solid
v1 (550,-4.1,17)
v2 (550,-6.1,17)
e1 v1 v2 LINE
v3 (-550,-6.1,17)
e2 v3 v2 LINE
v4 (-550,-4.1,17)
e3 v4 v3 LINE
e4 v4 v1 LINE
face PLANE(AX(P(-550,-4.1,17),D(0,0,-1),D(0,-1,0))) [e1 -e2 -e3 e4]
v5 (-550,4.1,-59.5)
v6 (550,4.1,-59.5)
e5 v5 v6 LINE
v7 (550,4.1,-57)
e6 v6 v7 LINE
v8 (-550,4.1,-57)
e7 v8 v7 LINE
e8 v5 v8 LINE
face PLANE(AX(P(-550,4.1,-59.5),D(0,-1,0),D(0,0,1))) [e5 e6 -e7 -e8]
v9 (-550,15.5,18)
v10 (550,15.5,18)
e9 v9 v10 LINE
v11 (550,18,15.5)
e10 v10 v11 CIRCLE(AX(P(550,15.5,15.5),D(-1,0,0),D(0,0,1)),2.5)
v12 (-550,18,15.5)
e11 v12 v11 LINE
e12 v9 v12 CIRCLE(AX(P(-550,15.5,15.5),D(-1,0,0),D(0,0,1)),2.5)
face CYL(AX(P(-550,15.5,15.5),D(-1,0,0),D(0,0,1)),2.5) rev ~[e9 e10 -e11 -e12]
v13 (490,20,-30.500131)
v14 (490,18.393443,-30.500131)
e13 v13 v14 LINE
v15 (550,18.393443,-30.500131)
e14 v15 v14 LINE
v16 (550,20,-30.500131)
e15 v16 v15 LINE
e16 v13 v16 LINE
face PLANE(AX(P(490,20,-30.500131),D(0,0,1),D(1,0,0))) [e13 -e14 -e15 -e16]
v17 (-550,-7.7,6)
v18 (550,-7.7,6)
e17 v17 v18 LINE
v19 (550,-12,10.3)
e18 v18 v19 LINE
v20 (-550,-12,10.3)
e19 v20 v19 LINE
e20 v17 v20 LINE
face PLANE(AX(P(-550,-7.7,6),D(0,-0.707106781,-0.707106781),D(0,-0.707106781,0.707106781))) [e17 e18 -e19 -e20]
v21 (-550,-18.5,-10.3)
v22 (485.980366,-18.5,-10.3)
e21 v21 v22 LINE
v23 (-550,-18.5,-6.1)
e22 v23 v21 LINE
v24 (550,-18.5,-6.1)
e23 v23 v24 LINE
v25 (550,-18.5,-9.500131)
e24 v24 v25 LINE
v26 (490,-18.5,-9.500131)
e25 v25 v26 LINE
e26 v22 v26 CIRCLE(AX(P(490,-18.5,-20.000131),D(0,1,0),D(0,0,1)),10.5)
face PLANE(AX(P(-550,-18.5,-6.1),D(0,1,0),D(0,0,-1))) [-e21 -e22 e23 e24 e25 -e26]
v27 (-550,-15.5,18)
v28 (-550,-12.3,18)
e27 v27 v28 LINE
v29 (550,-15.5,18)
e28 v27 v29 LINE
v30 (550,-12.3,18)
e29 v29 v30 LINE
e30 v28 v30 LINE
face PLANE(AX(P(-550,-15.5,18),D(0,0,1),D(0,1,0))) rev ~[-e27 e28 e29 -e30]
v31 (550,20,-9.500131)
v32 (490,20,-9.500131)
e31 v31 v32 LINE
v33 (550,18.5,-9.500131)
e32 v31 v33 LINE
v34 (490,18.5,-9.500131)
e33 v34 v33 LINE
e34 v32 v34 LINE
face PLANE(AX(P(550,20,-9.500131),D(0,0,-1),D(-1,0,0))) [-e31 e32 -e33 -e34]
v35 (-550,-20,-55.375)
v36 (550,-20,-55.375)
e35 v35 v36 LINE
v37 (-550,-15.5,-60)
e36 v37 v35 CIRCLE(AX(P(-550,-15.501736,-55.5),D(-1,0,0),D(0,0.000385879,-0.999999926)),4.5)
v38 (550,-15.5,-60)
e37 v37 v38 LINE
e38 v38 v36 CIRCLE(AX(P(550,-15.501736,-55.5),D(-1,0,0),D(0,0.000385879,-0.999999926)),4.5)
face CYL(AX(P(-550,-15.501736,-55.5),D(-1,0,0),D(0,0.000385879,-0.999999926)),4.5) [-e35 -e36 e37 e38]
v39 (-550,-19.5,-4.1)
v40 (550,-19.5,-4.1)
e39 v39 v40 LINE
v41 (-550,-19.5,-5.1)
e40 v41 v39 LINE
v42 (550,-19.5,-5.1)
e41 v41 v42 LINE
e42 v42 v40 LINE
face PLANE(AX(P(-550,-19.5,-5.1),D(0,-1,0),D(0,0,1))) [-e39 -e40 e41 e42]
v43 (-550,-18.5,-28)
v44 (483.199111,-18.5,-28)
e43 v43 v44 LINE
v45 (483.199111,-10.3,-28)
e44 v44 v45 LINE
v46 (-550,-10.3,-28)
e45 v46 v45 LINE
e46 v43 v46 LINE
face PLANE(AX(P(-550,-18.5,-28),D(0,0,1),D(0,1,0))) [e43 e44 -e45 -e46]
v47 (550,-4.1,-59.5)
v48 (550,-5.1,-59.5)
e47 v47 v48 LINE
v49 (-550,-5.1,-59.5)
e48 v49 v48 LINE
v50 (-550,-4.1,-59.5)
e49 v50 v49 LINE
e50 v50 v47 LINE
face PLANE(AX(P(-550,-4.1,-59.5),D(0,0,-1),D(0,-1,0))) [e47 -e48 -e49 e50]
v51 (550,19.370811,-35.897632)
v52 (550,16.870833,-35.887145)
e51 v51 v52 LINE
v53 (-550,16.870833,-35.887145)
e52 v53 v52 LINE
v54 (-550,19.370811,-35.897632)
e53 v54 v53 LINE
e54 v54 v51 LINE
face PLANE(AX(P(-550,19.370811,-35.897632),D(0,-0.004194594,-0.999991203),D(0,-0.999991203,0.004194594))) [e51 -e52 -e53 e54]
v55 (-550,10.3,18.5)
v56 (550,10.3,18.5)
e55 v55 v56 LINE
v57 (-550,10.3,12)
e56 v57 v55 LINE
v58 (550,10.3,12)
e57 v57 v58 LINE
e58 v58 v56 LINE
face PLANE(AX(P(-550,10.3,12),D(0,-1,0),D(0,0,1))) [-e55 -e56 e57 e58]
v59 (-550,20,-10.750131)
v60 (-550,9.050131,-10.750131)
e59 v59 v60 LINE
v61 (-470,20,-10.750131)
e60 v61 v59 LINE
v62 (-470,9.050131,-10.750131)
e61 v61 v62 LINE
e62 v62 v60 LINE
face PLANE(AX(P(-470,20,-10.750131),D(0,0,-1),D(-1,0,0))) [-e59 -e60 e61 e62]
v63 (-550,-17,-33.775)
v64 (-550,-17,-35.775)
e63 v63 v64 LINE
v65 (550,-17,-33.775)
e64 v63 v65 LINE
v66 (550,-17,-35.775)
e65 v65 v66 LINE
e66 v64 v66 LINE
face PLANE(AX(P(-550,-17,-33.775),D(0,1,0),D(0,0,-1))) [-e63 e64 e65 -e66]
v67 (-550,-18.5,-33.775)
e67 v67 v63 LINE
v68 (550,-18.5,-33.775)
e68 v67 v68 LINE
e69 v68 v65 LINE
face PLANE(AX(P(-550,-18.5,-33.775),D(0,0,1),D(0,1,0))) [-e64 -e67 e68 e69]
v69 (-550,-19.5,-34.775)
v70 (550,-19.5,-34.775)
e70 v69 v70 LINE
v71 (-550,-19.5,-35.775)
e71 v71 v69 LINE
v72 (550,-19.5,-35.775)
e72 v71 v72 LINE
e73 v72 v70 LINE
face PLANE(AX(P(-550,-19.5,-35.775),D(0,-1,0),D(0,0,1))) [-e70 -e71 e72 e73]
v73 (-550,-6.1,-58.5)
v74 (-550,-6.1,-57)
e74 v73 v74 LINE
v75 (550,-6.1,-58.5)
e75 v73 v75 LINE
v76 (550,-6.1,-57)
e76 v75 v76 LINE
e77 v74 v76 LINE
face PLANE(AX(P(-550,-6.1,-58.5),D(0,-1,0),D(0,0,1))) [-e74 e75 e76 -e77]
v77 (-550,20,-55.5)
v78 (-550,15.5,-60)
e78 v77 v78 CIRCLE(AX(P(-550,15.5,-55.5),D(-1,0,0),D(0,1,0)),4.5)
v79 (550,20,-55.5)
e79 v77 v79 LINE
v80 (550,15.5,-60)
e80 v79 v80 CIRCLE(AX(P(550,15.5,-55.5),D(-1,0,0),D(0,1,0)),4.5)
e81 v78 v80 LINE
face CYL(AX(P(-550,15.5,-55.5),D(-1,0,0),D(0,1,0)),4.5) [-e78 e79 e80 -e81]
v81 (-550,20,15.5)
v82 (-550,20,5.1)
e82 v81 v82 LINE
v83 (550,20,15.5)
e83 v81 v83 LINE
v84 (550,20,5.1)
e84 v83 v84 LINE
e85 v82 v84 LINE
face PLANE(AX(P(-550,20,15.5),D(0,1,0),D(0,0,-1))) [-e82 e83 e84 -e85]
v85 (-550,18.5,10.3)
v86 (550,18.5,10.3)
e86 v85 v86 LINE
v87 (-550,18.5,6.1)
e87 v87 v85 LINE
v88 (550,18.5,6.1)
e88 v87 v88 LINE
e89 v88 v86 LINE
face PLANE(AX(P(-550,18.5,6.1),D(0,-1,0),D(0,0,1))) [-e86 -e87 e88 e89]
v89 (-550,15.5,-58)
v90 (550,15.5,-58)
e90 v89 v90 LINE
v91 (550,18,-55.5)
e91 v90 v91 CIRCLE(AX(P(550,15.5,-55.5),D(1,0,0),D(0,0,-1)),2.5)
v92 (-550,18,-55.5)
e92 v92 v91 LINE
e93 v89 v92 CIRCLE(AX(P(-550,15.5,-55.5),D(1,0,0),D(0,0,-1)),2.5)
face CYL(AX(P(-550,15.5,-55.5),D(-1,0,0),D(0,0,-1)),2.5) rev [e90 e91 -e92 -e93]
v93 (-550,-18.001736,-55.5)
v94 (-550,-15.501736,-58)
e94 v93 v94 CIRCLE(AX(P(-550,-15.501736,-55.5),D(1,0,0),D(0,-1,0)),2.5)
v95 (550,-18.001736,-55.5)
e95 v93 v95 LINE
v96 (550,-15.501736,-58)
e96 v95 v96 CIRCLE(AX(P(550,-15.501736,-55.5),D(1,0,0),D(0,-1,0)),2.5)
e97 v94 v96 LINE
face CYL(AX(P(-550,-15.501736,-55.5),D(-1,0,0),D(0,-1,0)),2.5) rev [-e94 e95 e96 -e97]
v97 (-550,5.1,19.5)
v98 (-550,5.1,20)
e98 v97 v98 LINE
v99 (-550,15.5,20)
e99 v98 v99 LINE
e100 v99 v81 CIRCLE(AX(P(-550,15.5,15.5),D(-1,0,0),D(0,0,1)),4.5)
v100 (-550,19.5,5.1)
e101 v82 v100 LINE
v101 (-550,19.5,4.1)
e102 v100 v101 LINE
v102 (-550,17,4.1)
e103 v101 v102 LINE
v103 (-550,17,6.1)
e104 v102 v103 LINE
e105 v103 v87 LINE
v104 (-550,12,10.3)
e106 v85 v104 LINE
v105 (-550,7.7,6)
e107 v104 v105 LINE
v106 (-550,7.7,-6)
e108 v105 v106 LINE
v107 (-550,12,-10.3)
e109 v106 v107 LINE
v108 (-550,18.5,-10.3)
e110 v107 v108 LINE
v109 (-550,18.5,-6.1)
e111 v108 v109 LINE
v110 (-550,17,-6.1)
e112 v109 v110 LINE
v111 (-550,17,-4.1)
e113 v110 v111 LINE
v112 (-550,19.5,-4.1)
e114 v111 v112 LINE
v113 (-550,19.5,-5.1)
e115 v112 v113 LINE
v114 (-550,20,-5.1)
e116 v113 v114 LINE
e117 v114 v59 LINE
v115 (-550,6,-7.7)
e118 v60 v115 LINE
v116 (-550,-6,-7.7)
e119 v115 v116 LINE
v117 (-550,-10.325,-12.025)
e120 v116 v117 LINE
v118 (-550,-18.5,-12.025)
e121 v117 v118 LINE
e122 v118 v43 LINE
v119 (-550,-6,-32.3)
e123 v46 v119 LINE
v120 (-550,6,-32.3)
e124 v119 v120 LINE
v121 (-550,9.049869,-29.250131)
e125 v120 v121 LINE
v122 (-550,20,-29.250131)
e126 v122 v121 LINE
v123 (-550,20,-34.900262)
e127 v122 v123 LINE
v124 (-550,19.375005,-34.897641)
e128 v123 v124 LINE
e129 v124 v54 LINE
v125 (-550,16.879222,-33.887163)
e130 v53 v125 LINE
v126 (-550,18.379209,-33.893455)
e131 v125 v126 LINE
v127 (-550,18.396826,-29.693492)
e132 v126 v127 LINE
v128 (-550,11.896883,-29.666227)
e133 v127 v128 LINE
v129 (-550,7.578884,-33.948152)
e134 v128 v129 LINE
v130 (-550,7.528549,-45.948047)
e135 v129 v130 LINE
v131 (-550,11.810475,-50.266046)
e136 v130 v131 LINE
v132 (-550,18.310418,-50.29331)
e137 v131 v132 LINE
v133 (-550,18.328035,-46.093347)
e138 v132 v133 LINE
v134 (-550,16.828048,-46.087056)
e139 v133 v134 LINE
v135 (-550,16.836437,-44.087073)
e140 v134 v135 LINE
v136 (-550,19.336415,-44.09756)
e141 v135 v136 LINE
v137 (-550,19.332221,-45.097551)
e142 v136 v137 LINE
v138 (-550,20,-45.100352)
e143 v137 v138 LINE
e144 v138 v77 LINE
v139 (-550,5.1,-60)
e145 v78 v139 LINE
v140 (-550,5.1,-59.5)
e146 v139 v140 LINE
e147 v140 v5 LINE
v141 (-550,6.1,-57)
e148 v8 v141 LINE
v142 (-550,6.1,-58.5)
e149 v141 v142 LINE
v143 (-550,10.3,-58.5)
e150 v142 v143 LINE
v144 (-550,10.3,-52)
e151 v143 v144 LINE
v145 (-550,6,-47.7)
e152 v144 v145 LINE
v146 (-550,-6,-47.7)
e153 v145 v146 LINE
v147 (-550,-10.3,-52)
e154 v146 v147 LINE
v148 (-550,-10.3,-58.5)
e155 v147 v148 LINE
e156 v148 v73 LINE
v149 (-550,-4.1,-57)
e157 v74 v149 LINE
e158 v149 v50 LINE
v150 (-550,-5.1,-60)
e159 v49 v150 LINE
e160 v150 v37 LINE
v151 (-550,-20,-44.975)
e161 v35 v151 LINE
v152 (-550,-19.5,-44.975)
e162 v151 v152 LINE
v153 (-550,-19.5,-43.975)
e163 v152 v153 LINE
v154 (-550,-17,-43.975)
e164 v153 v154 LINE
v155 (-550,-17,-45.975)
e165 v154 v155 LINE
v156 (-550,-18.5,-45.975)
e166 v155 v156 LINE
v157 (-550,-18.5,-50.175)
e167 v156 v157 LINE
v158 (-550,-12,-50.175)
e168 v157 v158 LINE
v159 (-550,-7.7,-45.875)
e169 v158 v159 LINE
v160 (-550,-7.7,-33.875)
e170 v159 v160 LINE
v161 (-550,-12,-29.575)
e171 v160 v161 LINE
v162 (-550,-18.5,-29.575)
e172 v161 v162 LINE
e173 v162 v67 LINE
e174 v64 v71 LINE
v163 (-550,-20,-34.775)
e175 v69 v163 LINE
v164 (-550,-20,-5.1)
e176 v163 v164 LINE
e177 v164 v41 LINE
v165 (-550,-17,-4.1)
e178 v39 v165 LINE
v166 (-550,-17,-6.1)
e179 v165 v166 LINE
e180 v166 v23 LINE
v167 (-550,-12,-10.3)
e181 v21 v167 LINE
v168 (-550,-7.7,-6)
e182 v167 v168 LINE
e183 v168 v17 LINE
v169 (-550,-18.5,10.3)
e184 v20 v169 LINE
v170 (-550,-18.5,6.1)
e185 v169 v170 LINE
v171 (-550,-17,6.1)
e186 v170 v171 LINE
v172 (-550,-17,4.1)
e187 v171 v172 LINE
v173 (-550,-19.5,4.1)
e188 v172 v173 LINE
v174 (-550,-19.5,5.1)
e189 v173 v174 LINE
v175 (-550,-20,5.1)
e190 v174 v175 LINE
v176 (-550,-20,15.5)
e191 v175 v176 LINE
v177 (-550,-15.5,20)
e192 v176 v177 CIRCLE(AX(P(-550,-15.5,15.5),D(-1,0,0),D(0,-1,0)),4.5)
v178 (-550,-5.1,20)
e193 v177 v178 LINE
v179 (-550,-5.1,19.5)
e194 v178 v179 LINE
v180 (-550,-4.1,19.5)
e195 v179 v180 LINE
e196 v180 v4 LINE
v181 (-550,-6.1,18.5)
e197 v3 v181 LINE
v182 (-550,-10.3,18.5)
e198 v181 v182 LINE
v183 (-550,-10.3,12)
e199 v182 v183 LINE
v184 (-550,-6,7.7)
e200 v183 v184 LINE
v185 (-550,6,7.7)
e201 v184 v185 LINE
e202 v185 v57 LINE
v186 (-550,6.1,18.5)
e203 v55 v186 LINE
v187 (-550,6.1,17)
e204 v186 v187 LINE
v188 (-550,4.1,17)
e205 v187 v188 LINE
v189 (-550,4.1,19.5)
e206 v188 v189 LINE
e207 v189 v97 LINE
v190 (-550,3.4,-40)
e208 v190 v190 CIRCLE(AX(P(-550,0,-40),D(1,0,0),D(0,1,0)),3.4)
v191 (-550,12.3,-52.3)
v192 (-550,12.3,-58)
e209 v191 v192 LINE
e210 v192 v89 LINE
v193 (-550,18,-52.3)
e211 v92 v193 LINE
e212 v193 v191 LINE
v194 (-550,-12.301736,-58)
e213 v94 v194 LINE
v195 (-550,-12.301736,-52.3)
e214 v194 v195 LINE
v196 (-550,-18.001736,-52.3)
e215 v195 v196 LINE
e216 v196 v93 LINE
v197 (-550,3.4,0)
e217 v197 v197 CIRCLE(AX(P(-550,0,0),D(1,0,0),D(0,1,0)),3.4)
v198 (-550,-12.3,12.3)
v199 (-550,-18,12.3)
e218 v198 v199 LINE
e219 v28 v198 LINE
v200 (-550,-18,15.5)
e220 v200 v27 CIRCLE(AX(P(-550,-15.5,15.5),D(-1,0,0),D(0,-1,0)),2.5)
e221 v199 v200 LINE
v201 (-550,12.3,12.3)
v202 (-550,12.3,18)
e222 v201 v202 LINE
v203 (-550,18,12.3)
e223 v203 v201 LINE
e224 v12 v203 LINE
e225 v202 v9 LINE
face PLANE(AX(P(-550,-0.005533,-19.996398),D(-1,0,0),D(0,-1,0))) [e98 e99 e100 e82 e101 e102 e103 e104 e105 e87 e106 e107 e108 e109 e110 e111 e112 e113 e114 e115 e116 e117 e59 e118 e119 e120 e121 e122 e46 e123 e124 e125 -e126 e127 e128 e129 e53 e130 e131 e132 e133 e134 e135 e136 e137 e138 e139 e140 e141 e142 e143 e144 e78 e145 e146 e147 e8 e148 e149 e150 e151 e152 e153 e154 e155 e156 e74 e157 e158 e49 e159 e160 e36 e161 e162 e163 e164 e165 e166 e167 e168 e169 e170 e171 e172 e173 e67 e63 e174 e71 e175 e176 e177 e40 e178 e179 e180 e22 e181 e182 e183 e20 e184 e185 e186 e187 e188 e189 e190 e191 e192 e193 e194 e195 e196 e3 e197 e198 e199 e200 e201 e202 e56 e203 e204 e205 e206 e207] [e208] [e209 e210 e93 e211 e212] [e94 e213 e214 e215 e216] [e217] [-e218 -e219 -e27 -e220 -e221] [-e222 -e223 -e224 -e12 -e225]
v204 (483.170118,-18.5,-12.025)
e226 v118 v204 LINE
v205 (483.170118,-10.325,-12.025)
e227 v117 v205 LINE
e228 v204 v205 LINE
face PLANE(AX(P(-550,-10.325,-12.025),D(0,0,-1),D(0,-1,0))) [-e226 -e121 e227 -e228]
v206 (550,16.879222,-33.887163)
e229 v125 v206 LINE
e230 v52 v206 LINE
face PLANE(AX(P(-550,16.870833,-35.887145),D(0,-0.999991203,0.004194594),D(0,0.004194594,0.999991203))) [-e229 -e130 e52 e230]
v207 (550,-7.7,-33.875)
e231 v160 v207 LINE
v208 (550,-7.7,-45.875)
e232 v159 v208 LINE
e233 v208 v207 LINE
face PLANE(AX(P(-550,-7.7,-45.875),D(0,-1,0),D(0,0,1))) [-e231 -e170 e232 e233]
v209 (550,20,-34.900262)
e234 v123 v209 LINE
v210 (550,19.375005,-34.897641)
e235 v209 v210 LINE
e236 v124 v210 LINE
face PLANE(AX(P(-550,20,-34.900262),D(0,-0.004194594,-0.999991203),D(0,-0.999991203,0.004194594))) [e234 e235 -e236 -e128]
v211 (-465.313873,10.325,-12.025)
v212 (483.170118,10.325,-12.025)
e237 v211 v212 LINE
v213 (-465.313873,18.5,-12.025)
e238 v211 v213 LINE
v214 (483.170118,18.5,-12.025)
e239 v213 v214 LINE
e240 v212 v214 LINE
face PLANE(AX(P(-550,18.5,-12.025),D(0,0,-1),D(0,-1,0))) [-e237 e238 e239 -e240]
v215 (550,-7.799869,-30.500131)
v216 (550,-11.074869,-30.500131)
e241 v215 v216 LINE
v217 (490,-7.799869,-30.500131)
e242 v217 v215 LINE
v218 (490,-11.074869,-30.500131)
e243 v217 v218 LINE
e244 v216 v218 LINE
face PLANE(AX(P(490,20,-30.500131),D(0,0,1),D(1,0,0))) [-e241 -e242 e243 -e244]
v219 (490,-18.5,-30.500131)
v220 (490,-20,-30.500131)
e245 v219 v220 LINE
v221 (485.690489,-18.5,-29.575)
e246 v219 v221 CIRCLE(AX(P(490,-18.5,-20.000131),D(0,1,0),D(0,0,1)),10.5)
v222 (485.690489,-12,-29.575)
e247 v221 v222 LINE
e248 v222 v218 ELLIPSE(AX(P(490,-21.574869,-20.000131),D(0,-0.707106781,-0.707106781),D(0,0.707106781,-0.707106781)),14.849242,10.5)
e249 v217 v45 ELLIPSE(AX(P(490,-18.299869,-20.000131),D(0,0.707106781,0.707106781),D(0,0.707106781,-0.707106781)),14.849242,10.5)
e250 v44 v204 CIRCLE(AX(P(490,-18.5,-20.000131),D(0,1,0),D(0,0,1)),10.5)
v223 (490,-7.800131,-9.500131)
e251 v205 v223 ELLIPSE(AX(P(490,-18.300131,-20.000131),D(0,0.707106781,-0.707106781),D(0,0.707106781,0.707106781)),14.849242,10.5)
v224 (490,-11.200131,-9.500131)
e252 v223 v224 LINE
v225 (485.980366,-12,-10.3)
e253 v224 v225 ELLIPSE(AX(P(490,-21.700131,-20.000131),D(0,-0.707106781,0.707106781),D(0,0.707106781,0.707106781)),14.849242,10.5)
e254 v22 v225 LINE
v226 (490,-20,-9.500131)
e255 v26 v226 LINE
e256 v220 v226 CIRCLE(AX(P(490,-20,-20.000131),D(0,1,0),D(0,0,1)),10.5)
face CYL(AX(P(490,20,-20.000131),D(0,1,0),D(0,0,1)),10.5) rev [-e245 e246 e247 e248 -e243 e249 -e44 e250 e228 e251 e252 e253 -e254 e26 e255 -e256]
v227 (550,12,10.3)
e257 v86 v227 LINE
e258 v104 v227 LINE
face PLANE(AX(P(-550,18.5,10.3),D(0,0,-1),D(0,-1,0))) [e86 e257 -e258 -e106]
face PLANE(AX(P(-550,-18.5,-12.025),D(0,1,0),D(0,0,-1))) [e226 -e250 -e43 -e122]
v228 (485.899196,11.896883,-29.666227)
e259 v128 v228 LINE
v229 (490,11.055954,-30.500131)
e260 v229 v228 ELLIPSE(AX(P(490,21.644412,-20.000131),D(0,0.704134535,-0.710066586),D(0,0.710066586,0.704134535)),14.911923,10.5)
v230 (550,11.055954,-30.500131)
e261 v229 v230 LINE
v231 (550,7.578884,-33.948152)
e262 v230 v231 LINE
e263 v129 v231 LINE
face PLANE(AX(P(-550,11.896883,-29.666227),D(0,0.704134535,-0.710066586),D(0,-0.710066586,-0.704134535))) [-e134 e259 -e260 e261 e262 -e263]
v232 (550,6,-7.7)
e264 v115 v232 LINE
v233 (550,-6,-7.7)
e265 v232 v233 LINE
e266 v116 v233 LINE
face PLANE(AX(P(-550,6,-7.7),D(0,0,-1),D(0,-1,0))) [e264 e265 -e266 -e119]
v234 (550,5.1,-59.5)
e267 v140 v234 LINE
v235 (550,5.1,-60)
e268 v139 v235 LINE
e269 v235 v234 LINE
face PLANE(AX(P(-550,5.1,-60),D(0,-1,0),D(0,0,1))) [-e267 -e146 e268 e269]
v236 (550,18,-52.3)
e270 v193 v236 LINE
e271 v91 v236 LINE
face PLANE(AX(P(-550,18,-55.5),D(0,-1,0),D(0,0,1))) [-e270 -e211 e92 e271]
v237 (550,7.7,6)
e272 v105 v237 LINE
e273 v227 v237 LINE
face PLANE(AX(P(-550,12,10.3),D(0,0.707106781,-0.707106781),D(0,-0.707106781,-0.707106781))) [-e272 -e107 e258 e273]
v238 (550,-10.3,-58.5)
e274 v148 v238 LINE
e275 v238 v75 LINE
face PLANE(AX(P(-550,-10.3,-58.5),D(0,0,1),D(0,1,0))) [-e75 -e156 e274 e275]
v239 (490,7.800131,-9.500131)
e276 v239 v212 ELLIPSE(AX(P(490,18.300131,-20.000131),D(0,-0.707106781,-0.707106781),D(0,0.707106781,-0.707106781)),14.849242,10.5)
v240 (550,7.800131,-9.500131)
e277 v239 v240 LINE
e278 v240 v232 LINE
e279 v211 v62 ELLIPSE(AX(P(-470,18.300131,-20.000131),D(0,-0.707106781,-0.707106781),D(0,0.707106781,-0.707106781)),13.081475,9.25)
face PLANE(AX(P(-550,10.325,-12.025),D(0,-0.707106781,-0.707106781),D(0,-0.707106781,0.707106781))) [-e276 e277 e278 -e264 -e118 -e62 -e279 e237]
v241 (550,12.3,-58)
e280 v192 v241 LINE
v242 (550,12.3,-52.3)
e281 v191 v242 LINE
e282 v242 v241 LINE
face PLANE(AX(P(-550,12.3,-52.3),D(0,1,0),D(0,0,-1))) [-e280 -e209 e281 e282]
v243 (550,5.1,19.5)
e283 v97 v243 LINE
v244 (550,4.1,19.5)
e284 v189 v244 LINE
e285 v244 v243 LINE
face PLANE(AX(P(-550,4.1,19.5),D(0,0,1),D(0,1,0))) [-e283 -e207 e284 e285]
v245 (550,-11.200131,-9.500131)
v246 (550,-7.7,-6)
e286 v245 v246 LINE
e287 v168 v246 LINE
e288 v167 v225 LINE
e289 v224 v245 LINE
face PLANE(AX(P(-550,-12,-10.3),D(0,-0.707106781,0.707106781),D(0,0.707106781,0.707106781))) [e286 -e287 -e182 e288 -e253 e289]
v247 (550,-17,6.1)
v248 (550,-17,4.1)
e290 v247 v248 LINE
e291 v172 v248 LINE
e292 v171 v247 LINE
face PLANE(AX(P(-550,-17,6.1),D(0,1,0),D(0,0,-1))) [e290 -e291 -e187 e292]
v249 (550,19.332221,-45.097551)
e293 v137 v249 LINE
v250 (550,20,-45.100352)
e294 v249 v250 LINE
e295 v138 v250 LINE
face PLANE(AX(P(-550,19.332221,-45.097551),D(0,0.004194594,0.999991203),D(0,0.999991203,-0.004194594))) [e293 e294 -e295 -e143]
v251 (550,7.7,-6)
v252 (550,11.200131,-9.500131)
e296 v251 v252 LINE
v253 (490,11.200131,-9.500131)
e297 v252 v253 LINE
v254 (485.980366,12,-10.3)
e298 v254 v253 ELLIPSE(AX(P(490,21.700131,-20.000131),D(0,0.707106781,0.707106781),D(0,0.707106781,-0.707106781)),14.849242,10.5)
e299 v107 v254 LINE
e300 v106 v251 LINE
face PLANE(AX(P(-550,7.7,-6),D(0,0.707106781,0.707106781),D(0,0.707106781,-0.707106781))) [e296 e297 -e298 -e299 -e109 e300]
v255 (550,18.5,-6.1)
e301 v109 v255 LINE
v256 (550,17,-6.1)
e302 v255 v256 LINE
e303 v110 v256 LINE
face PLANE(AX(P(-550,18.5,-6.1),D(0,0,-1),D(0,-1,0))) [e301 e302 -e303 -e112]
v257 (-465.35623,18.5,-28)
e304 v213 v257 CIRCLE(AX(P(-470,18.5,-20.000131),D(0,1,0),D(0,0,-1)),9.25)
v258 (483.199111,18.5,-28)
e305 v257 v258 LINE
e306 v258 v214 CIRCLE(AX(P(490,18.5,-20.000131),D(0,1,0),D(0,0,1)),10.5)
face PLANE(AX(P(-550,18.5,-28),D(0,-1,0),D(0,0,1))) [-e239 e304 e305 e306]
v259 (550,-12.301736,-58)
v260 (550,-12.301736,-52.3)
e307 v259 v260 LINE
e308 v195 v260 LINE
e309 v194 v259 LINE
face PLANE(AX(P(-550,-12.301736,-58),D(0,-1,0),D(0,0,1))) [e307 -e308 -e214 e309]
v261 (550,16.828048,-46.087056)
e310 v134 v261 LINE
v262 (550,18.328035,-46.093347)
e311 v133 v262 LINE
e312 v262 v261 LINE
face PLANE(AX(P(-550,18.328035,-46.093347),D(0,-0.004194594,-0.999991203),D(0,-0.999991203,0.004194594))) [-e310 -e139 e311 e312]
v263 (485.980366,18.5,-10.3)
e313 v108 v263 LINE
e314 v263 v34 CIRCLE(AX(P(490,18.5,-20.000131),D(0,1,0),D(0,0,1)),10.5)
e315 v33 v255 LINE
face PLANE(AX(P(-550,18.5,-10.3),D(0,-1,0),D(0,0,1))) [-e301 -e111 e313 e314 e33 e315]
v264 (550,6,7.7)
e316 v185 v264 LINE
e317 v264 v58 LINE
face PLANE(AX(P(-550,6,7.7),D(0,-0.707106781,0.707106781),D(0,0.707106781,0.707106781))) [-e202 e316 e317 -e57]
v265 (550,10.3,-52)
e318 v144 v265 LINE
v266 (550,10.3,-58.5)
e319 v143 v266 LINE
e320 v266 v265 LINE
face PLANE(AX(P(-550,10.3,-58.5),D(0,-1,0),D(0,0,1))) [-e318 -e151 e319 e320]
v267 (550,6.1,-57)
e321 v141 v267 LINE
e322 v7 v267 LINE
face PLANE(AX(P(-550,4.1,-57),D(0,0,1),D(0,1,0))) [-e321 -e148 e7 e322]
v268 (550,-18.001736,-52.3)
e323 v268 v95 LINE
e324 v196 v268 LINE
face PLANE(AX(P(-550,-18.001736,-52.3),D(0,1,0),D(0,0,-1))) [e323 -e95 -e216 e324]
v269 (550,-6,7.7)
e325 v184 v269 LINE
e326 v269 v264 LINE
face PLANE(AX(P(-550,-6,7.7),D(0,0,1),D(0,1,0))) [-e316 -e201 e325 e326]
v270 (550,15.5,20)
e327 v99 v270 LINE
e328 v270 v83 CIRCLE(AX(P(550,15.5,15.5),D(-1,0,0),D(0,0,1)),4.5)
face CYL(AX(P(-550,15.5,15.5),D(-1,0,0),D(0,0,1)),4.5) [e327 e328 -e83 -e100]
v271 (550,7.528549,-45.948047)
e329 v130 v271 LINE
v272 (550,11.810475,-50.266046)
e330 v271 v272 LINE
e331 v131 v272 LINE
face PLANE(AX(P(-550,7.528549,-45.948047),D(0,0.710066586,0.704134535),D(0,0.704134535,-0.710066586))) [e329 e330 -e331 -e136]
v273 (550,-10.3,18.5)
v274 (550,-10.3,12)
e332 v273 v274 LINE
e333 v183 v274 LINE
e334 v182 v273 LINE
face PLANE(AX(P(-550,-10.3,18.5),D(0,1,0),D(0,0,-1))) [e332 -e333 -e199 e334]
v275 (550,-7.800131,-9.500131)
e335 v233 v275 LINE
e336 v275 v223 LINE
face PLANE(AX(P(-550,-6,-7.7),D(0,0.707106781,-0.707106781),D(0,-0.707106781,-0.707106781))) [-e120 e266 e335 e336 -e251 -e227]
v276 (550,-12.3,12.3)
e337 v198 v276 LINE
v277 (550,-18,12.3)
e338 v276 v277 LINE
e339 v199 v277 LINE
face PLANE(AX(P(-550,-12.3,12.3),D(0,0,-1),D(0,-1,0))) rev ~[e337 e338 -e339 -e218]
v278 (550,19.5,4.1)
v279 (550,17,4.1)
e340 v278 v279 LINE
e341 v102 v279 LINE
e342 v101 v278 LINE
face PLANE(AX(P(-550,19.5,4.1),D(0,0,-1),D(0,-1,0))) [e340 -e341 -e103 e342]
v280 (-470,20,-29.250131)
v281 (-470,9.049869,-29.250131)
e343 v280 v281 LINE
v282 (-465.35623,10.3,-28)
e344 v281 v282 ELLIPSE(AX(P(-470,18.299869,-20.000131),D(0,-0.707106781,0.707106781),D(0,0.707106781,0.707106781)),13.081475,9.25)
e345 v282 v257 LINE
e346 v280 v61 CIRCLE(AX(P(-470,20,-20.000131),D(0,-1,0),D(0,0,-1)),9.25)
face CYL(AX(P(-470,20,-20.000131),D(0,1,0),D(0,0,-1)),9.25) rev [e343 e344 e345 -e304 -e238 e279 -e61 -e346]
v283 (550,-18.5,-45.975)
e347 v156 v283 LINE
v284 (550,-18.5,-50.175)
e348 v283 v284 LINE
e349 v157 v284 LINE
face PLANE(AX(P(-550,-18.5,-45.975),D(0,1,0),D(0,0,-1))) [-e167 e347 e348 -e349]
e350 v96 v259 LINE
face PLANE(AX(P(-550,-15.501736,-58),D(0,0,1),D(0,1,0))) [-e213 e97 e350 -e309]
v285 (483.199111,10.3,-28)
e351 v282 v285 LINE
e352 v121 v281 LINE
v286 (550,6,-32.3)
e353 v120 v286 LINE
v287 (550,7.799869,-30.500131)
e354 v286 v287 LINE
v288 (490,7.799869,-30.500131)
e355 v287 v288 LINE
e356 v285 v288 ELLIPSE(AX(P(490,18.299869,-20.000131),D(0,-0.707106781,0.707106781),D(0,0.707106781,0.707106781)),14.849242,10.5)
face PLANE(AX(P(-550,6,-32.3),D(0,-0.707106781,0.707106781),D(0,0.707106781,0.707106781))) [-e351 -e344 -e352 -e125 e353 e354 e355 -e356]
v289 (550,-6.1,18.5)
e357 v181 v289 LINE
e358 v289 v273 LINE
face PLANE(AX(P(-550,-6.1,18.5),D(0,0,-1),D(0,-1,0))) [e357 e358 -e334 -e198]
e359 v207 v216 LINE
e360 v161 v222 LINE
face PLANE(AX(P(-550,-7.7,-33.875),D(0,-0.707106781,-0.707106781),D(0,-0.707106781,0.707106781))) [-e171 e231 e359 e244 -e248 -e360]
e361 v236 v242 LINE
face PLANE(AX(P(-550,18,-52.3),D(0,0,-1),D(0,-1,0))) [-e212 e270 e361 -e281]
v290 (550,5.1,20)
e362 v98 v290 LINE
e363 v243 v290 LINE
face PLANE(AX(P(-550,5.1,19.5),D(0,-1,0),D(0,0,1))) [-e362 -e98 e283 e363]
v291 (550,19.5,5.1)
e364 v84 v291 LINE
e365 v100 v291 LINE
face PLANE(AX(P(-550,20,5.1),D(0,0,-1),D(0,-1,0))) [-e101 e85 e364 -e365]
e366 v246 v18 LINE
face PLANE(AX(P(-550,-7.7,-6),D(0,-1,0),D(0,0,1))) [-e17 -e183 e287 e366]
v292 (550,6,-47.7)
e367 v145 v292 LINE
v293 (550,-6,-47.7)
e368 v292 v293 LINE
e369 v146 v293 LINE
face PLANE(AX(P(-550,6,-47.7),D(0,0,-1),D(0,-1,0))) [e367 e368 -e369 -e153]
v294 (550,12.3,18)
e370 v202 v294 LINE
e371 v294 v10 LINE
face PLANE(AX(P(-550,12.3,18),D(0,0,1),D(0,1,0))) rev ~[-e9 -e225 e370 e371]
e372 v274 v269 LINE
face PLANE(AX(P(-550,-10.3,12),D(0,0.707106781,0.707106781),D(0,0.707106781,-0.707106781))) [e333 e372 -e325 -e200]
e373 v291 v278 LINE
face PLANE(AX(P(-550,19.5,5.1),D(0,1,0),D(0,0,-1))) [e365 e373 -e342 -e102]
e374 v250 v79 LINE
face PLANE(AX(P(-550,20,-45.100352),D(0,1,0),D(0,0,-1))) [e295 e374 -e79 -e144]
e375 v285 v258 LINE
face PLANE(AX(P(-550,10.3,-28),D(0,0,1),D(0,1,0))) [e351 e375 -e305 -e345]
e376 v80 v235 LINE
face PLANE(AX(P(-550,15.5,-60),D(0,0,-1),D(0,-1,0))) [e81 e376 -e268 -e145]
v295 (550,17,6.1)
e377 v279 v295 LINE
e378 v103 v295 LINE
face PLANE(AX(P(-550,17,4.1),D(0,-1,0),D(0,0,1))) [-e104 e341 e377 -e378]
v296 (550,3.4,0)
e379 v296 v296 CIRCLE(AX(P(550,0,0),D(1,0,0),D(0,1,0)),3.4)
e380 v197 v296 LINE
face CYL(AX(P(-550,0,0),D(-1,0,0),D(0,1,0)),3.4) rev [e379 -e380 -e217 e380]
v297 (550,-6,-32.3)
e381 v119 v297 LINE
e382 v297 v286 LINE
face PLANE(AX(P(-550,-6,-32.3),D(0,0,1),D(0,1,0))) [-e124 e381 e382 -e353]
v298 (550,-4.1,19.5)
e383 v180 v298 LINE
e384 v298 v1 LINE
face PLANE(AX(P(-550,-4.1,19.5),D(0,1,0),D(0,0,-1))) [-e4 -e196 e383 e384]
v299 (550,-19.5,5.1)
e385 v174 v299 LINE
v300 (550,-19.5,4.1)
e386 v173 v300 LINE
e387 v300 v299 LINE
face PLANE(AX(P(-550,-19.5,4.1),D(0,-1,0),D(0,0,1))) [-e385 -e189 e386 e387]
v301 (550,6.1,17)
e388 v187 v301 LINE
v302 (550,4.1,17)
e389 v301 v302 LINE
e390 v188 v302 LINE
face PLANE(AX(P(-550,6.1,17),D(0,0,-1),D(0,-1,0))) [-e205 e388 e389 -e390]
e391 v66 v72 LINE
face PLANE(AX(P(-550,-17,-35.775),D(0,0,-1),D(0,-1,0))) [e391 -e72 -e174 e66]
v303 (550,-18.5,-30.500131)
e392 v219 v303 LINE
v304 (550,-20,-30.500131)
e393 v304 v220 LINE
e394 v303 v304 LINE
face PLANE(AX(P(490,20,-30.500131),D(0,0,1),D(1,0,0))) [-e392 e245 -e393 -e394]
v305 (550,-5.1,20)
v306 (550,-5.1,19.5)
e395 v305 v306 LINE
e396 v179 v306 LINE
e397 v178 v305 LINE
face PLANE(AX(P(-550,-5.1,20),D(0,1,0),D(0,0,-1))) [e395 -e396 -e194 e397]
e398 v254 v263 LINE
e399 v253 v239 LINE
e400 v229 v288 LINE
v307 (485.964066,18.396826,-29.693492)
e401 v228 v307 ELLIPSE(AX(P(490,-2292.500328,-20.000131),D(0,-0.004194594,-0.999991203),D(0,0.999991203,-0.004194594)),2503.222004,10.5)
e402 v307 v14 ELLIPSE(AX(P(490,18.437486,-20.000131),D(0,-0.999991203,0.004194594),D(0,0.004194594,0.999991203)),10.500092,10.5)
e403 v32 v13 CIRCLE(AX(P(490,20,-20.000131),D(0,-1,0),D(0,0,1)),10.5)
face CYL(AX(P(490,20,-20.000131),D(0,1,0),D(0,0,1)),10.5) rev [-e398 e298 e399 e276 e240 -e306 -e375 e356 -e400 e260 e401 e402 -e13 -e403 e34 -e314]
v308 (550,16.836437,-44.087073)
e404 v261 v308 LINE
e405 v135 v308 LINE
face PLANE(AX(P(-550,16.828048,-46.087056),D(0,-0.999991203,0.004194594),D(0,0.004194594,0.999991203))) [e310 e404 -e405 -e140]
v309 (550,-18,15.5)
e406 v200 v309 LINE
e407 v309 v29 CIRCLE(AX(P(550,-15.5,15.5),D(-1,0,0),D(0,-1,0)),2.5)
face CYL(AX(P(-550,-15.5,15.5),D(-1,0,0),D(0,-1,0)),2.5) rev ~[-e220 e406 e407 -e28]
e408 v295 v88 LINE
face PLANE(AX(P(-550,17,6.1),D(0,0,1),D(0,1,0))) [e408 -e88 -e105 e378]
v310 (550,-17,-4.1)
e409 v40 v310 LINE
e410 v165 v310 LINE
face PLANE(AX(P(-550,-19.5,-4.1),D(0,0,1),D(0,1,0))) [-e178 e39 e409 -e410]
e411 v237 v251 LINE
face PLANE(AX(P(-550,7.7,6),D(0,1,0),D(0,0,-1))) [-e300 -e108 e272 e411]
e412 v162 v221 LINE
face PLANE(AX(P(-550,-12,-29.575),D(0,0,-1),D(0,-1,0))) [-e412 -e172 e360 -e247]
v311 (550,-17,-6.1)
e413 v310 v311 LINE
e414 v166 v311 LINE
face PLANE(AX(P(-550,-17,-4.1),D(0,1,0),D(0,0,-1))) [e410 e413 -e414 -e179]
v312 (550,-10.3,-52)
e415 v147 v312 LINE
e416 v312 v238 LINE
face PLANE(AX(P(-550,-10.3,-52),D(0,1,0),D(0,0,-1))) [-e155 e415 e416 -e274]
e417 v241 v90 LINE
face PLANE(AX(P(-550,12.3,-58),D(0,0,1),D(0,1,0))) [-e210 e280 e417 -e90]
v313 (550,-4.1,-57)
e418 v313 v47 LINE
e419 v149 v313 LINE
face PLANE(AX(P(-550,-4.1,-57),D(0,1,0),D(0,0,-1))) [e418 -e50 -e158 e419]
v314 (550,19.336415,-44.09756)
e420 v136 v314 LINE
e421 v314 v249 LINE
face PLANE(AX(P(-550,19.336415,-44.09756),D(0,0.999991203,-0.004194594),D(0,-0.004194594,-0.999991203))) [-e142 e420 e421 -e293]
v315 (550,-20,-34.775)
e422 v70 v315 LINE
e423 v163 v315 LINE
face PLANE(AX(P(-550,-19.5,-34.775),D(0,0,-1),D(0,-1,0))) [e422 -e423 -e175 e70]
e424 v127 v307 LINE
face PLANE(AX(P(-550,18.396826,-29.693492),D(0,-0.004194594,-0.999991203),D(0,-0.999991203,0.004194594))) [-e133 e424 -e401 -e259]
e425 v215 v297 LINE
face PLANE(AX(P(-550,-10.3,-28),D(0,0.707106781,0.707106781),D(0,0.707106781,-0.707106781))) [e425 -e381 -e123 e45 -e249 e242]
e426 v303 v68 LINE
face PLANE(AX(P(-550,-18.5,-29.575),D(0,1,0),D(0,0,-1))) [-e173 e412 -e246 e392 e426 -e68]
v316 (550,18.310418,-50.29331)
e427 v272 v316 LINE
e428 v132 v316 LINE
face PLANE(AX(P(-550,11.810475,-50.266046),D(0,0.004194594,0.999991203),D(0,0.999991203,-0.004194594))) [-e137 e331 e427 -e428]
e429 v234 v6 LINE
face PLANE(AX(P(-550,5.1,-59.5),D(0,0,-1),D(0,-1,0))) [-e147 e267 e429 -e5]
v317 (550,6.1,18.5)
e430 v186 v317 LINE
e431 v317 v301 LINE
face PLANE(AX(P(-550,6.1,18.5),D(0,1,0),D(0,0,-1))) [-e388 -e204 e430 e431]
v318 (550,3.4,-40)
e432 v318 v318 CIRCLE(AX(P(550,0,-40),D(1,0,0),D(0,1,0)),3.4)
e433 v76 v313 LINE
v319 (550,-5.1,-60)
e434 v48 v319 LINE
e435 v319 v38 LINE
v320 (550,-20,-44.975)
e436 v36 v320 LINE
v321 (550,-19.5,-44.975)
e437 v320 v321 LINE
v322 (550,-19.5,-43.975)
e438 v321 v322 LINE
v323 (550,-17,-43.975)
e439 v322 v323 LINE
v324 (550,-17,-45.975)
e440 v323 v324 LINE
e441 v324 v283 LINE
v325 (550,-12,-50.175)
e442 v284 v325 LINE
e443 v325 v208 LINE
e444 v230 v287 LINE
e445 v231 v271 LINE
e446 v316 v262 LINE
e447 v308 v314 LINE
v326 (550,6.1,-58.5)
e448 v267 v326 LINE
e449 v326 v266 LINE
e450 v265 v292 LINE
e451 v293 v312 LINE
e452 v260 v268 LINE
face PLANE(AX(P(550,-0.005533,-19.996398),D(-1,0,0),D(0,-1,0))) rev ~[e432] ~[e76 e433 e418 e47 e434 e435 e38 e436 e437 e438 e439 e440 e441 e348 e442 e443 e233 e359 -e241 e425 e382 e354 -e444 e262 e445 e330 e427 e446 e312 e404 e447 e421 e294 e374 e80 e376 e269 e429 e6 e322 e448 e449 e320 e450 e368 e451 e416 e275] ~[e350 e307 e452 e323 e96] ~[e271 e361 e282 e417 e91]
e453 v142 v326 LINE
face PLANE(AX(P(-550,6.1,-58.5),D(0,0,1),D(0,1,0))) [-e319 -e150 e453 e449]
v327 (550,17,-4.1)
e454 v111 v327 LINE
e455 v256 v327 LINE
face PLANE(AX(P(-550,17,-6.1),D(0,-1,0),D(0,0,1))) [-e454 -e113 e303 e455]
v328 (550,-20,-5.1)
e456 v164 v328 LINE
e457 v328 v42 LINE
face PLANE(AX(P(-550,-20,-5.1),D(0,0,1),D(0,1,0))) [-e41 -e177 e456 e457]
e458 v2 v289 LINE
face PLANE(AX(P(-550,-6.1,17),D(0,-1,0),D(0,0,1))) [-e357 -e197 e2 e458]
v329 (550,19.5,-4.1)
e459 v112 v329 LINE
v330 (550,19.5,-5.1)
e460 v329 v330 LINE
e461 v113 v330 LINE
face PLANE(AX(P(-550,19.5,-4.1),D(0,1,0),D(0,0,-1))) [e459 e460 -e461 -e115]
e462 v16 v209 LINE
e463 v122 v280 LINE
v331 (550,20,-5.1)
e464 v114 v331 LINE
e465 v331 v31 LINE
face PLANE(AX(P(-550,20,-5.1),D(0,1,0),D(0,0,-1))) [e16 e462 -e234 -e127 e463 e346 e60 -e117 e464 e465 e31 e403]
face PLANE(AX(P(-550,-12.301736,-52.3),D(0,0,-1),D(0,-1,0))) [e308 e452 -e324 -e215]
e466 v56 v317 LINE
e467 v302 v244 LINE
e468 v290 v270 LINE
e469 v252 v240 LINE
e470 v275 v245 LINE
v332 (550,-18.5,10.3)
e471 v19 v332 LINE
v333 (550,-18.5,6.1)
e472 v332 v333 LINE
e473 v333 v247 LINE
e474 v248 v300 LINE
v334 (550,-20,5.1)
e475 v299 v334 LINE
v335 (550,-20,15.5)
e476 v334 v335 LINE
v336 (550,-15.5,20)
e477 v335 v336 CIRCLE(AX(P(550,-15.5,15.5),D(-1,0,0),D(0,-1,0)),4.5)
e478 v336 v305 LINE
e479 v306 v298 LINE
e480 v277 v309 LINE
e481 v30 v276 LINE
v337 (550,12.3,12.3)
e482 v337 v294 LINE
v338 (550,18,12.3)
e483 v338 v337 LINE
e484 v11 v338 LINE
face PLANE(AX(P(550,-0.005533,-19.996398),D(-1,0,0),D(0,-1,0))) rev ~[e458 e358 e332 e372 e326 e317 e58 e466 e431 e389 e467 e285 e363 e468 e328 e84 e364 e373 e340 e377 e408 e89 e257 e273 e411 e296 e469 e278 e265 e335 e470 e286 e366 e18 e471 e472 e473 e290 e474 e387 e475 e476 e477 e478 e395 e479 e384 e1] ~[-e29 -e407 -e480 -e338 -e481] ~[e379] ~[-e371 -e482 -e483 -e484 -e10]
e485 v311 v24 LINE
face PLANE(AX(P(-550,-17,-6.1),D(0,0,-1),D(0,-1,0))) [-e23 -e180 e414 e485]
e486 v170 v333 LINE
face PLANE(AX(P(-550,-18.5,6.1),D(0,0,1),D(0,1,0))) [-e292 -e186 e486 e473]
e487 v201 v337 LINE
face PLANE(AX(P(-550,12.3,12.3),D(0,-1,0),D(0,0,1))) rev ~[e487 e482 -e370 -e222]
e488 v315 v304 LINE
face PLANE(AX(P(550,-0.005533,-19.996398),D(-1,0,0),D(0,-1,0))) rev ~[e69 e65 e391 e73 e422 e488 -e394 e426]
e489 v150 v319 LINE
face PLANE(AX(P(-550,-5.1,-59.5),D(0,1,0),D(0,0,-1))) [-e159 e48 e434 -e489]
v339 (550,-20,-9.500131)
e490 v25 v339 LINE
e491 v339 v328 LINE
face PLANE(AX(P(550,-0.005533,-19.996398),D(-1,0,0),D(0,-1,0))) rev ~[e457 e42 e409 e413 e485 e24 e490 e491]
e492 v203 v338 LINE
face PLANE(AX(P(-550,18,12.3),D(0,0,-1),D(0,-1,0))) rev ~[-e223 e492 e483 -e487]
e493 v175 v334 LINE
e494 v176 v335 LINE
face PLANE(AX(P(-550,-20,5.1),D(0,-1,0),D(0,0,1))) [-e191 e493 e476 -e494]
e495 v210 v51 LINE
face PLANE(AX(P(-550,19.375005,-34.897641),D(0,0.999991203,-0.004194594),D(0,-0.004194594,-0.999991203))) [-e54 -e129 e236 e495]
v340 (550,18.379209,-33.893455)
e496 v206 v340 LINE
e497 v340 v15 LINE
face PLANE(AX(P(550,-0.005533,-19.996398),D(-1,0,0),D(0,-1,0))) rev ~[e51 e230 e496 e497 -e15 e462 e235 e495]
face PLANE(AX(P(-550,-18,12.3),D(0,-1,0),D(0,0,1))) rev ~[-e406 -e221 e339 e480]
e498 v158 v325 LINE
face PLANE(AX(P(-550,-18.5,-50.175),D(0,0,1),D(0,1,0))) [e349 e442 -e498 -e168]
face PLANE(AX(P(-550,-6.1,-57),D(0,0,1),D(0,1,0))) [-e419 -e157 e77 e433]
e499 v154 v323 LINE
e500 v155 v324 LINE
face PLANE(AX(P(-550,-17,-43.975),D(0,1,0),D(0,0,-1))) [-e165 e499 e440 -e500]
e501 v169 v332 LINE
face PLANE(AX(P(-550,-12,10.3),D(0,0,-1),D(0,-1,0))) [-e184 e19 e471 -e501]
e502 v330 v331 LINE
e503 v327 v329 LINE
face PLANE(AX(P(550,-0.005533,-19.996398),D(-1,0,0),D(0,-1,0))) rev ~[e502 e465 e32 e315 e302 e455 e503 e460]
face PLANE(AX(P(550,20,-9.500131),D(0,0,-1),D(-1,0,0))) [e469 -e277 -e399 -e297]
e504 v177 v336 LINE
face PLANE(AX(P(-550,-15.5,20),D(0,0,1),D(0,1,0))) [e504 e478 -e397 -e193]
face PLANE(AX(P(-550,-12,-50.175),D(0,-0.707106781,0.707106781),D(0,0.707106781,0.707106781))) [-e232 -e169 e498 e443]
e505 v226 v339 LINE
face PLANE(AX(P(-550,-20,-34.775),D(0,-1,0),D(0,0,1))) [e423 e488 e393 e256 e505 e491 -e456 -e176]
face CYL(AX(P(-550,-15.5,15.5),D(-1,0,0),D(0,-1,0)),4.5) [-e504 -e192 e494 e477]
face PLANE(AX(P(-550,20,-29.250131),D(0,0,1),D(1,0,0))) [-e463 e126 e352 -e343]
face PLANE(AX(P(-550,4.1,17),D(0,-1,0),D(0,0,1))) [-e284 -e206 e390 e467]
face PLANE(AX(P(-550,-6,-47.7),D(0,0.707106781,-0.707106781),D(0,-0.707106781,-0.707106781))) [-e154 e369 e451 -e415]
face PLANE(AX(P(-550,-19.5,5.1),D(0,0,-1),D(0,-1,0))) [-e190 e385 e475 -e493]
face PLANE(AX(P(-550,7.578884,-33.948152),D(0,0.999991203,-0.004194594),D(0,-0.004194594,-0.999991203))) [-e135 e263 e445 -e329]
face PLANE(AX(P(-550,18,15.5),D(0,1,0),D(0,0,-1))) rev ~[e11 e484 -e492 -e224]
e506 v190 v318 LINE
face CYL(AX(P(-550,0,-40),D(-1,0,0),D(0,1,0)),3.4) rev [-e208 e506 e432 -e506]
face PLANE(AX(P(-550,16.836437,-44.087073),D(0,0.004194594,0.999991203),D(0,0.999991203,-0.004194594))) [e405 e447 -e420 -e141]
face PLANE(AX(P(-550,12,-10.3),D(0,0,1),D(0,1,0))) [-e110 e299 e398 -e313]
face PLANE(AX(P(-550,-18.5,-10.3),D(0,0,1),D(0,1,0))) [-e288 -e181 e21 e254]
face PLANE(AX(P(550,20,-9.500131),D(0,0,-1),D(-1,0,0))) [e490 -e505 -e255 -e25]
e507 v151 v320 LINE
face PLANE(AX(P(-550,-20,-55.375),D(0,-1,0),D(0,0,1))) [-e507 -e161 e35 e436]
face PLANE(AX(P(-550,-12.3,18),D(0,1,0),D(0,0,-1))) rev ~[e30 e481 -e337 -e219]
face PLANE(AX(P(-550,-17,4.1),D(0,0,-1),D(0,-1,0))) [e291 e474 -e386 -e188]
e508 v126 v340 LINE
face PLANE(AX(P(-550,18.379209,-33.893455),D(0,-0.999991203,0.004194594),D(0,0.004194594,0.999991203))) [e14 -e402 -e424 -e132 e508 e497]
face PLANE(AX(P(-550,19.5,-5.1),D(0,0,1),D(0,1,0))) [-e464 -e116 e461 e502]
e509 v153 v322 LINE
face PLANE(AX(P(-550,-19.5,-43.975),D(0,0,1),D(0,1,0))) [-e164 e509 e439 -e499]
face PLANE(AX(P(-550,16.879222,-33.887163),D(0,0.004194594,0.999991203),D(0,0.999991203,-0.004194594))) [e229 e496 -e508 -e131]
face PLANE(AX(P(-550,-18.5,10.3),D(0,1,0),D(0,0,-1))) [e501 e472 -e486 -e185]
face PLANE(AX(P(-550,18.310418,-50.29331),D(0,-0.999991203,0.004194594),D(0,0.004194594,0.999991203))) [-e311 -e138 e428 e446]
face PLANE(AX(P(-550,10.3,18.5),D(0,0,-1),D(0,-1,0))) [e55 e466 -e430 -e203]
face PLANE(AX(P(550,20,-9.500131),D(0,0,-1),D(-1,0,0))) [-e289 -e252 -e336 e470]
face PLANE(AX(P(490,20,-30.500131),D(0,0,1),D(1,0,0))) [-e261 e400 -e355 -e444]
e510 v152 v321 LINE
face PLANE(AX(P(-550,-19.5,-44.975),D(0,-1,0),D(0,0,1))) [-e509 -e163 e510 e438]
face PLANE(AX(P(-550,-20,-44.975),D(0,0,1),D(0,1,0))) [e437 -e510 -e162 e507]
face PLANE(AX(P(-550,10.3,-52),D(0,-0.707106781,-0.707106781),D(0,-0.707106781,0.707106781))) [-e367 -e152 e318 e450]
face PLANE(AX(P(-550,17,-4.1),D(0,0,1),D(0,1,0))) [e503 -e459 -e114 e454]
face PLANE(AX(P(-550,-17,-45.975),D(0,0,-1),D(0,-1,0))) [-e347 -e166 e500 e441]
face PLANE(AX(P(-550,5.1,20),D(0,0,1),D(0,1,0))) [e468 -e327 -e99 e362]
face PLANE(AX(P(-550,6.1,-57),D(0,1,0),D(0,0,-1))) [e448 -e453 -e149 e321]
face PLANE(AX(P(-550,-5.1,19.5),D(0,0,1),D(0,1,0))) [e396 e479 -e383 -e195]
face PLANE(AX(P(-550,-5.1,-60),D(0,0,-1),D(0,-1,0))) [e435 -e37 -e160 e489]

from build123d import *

# Parameters (mm, degrees)
SKETCH1_R                 = 3.4
F_40_X_80W_X_R4_5_1_DEPTH = 1100
CUT_EXTRUDE_1_REACH       = 556.707
CUT_EXTRUDE_2_DEPTH       = 555.707255189


with BuildPart() as part:
    # Sketch1 → 工业铝型材 40 X 80W X R4.5(1) (new body)
    with BuildSketch(Plane.YZ.offset(-550)):
        with BuildLine():
            Line((-5.1, 20), (-5.1, 19.5))
            Line((-5.1, 19.5), (-4.1, 19.5))
            Line((-4.1, 19.5), (-4.1, 17))
            Line((-4.1, 17), (-6.1, 17))
            Line((-6.1, 17), (-6.1, 18.5))
            Line((-6.1, 18.5), (-10.3, 18.5))
            Line((-10.3, 18.5), (-10.3, 12))
            Line((-10.3, 12), (-6, 7.7))
            Line((-6, 7.7), (6, 7.7))
            Line((6, 7.7), (10.3, 12))
            Line((10.3, 12), (10.3, 18.5))
            Line((10.3, 18.5), (6.1, 18.5))
            Line((6.1, 18.5), (6.1, 17))
            Line((6.1, 17), (4.1, 17))
            Line((4.1, 17), (4.1, 19.5))
            Line((4.1, 19.5), (5.1, 19.5))
            Line((5.1, 19.5), (5.1, 20))
            Line((5.1, 20), (15.5, 20))
            ThreePointArc((15.5, 20), (18.681980515, 18.681980515), (20, 15.5))
            Line((20, 15.5), (20, 5.1))
            Line((20, 5.1), (19.5, 5.1))
            Line((19.5, 5.1), (19.5, 4.1))
            Line((19.5, 4.1), (17, 4.1))
            Line((17, 4.1), (17, 6.1))
            Line((17, 6.1), (18.5, 6.1))
            Line((18.5, 6.1), (18.5, 10.3))
            Line((18.5, 10.3), (12, 10.3))
            Line((12, 10.3), (7.7, 6))
            Line((7.7, 6), (7.7, -6))
            Line((7.7, -6), (12, -10.3))
            Line((12, -10.3), (18.5, -10.3))
            Line((18.5, -10.3), (18.5, -6.1))
            Line((18.5, -6.1), (17, -6.1))
            Line((17, -6.1), (17, -4.1))
            Line((17, -4.1), (19.5, -4.1))
            Line((19.5, -4.1), (19.5, -5.1))
            Line((19.5, -5.1), (20, -5.1))
            Line((20, -5.1), (20, -34.900262163))
            Line((20, -34.900262163), (19.375005498, -34.897640542))
            Line((19.375005498, -34.897640542), (19.370810904, -35.897631745))
            Line((19.370810904, -35.897631745), (16.870832898, -35.88714526))
            Line((16.870832898, -35.88714526), (16.879222086, -33.887162854))
            Line((16.879222086, -33.887162854), (18.37920889, -33.893454745))
            Line((18.37920889, -33.893454745), (18.396826184, -29.693491694))
            Line((18.396826184, -29.693491694), (11.896883367, -29.666226833))
            Line((11.896883367, -29.666226833), (7.578884442, -33.948152251))
            Line((7.578884442, -33.948152251), (7.528549314, -45.948046683))
            Line((7.528549314, -45.948046683), (11.810474731, -50.266045608))
            Line((11.810474731, -50.266045608), (18.310417549, -50.293310469))
            Line((18.310417549, -50.293310469), (18.328034843, -46.093347418))
            Line((18.328034843, -46.093347418), (16.828048039, -46.087055527))
            Line((16.828048039, -46.087055527), (16.836437227, -44.087073122))
            Line((16.836437227, -44.087073122), (19.336415234, -44.097559606))
            Line((19.336415234, -44.097559606), (19.33222064, -45.097550809))
            Line((19.33222064, -45.097550809), (20, -45.100351897))
            Line((20, -45.100351897), (20, -55.5))
            ThreePointArc((20, -55.5), (18.681980515, -58.681980515), (15.5, -60))
            Line((15.5, -60), (5.1, -60))
            Line((5.1, -60), (5.1, -59.5))
            Line((5.1, -59.5), (4.1, -59.5))
            Line((4.1, -59.5), (4.1, -57))
            Line((4.1, -57), (6.1, -57))
            Line((6.1, -57), (6.1, -58.5))
            Line((6.1, -58.5), (10.3, -58.5))
            Line((10.3, -58.5), (10.3, -52))
            Line((10.3, -52), (6, -47.7))
            Line((6, -47.7), (-6, -47.7))
            Line((-6, -47.7), (-10.3, -52))
            Line((-10.3, -52), (-10.3, -58.5))
            Line((-10.3, -58.5), (-6.1, -58.5))
            Line((-6.1, -58.5), (-6.1, -57))
            Line((-6.1, -57), (-4.1, -57))
            Line((-4.1, -57), (-4.1, -59.5))
            Line((-4.1, -59.5), (-5.1, -59.5))
            Line((-5.1, -59.5), (-5.1, -60))
            Line((-5.1, -60), (-15.5, -60))
            ThreePointArc((-15.5, -60), (-18.727003145, -58.638097654), (-20, -55.375))
            Line((-20, -55.375), (-20, -44.975))
            Line((-20, -44.975), (-19.5, -44.975))
            Line((-19.5, -44.975), (-19.5, -43.975))
            Line((-19.5, -43.975), (-17, -43.975))
            Line((-17, -43.975), (-17, -45.975))
            Line((-17, -45.975), (-18.5, -45.975))
            Line((-18.5, -45.975), (-18.5, -50.175))
            Line((-18.5, -50.175), (-12, -50.175))
            Line((-12, -50.175), (-7.7, -45.875))
            Line((-7.7, -45.875), (-7.7, -33.875))
            Line((-7.7, -33.875), (-12, -29.575))
            Line((-12, -29.575), (-18.5, -29.575))
            Line((-18.5, -29.575), (-18.5, -33.775))
            Line((-18.5, -33.775), (-17, -33.775))
            Line((-17, -33.775), (-17, -35.775))
            Line((-17, -35.775), (-19.5, -35.775))
            Line((-19.5, -35.775), (-19.5, -34.775))
            Line((-19.5, -34.775), (-20, -34.775))
            Line((-20, -34.775), (-20, -5.1))
            Line((-20, -5.1), (-19.5, -5.1))
            Line((-19.5, -5.1), (-19.5, -4.1))
            Line((-19.5, -4.1), (-17, -4.1))
            Line((-17, -4.1), (-17, -6.1))
            Line((-17, -6.1), (-18.5, -6.1))
            Line((-18.5, -6.1), (-18.5, -10.3))
            Line((-18.5, -10.3), (-12, -10.3))
            Line((-12, -10.3), (-7.7, -6))
            Line((-7.7, -6), (-7.7, 6))
            Line((-7.7, 6), (-12, 10.3))
            Line((-12, 10.3), (-18.5, 10.3))
            Line((-18.5, 10.3), (-18.5, 6.1))
            Line((-18.5, 6.1), (-17, 6.1))
            Line((-17, 6.1), (-17, 4.1))
            Line((-17, 4.1), (-19.5, 4.1))
            Line((-19.5, 4.1), (-19.5, 5.1))
            Line((-19.5, 5.1), (-20, 5.1))
            Line((-20, 5.1), (-20, 15.5))
            ThreePointArc((-20, 15.5), (-18.681980515, 18.681980515), (-15.5, 20))
            Line((-15.5, 20), (-5.1, 20))
        make_face()
        Circle(SKETCH1_R, mode=Mode.SUBTRACT)
        with Locations((0, -40)):
            Circle(SKETCH1_R, mode=Mode.SUBTRACT)
        with BuildLine():
            Line((12.3, 18), (15.5, 18))
            ThreePointArc((15.5, 18), (17.267766953, 17.267766953), (18, 15.5))
            Line((18, 15.5), (18, 12.3))
            Line((18, 12.3), (12.3, 12.3))
            Line((12.3, 12.3), (12.3, 18))
        make_face(mode=Mode.SUBTRACT)
        Polygon((10.325, -12.025), (6, -7.7), (-6, -7.7), (-10.325, -12.025), (-18.5, -12.025), (-18.5, -28), (-10.3, -28), (-6, -32.3), (6, -32.3), (10.3, -28), (18.5, -28), (18.5, -12.025), align=None, mode=Mode.SUBTRACT)
        with BuildLine():
            Line((-15.5, 18), (-12.3, 18))
            Line((-12.3, 18), (-12.3, 12.3))
            Line((-12.3, 12.3), (-18, 12.3))
            Line((-18, 12.3), (-18, 15.5))
            ThreePointArc((-18, 15.5), (-17.267766953, 17.267766953), (-15.5, 18))
        make_face(mode=Mode.SUBTRACT)
        with BuildLine():
            Line((-12.301736455, -58.000000335), (-12.301736455, -52.300000335))
            Line((-12.301736455, -52.300000335), (-18.001736455, -52.300000335))
            Line((-18.001736455, -52.300000335), (-18.001736455, -55.500000335))
            ThreePointArc((-18.001736455, -55.500000335), (-17.269503408, -57.267767288), (-15.501736455, -58.000000335))
            Line((-15.501736455, -58.000000335), (-12.301736455, -58.000000335))
        make_face(mode=Mode.SUBTRACT)
        with BuildLine():
            Line((18, -55.5), (18, -52.3))
            Line((18, -52.3), (12.3, -52.3))
            Line((12.3, -52.3), (12.3, -58))
            Line((12.3, -58), (15.5, -58))
            ThreePointArc((15.5, -58), (17.267766953, -57.267766953), (18, -55.5))
        make_face(mode=Mode.SUBTRACT)
    extrude(amount=F_40_X_80W_X_R4_5_1_DEPTH)

    # 草图3 → 切除-拉伸1 (cut, up to next)
    with BuildSketch(Plane(origin=(0, 20, 0), x_dir=(1, 0, 0), z_dir=(0, 1, 0)), mode=Mode.PRIVATE) as cut_extrude_1_sk1:
        with BuildLine():
            Line((-550, 29.250131082), (-470, 29.250131082))
            ThreePointArc((-470, 29.250131082), (-460.75, 20.000131082), (-470, 10.750131082))
            Line((-470, 10.750131082), (-550, 10.750131082))
            ThreePointArc((-550, 10.750131082), (-559.25, 20.000131082), (-550, 29.250131082))
        make_face()
    cut_extrude_1_tool1 = extrude(cut_extrude_1_sk1.sketch, amount=-CUT_EXTRUDE_1_REACH, mode=Mode.PRIVATE) & part.part
    add(cut_extrude_1_tool1.solids().sort_by_distance((-510, 20, -20.000131))[0], mode=Mode.SUBTRACT)

    # 草图4 → 切除-拉伸2 (cut, through all)
    with BuildSketch(Plane(origin=(0, 20, 0), x_dir=(1, 0, 0), z_dir=(0, 1, 0))):
        with BuildLine():
            Line((550, 9.500131082), (490, 9.500131082))
            ThreePointArc((490, 9.500131082), (479.5, 20.000131082), (490, 30.500131082))
            Line((490, 30.500131082), (550, 30.500131082))
            ThreePointArc((550, 30.500131082), (560.5, 20.000131082), (550, 9.500131082))
        make_face()
    extrude(amount=-CUT_EXTRUDE_2_DEPTH, mode=Mode.SUBTRACT)


solid = part.part
